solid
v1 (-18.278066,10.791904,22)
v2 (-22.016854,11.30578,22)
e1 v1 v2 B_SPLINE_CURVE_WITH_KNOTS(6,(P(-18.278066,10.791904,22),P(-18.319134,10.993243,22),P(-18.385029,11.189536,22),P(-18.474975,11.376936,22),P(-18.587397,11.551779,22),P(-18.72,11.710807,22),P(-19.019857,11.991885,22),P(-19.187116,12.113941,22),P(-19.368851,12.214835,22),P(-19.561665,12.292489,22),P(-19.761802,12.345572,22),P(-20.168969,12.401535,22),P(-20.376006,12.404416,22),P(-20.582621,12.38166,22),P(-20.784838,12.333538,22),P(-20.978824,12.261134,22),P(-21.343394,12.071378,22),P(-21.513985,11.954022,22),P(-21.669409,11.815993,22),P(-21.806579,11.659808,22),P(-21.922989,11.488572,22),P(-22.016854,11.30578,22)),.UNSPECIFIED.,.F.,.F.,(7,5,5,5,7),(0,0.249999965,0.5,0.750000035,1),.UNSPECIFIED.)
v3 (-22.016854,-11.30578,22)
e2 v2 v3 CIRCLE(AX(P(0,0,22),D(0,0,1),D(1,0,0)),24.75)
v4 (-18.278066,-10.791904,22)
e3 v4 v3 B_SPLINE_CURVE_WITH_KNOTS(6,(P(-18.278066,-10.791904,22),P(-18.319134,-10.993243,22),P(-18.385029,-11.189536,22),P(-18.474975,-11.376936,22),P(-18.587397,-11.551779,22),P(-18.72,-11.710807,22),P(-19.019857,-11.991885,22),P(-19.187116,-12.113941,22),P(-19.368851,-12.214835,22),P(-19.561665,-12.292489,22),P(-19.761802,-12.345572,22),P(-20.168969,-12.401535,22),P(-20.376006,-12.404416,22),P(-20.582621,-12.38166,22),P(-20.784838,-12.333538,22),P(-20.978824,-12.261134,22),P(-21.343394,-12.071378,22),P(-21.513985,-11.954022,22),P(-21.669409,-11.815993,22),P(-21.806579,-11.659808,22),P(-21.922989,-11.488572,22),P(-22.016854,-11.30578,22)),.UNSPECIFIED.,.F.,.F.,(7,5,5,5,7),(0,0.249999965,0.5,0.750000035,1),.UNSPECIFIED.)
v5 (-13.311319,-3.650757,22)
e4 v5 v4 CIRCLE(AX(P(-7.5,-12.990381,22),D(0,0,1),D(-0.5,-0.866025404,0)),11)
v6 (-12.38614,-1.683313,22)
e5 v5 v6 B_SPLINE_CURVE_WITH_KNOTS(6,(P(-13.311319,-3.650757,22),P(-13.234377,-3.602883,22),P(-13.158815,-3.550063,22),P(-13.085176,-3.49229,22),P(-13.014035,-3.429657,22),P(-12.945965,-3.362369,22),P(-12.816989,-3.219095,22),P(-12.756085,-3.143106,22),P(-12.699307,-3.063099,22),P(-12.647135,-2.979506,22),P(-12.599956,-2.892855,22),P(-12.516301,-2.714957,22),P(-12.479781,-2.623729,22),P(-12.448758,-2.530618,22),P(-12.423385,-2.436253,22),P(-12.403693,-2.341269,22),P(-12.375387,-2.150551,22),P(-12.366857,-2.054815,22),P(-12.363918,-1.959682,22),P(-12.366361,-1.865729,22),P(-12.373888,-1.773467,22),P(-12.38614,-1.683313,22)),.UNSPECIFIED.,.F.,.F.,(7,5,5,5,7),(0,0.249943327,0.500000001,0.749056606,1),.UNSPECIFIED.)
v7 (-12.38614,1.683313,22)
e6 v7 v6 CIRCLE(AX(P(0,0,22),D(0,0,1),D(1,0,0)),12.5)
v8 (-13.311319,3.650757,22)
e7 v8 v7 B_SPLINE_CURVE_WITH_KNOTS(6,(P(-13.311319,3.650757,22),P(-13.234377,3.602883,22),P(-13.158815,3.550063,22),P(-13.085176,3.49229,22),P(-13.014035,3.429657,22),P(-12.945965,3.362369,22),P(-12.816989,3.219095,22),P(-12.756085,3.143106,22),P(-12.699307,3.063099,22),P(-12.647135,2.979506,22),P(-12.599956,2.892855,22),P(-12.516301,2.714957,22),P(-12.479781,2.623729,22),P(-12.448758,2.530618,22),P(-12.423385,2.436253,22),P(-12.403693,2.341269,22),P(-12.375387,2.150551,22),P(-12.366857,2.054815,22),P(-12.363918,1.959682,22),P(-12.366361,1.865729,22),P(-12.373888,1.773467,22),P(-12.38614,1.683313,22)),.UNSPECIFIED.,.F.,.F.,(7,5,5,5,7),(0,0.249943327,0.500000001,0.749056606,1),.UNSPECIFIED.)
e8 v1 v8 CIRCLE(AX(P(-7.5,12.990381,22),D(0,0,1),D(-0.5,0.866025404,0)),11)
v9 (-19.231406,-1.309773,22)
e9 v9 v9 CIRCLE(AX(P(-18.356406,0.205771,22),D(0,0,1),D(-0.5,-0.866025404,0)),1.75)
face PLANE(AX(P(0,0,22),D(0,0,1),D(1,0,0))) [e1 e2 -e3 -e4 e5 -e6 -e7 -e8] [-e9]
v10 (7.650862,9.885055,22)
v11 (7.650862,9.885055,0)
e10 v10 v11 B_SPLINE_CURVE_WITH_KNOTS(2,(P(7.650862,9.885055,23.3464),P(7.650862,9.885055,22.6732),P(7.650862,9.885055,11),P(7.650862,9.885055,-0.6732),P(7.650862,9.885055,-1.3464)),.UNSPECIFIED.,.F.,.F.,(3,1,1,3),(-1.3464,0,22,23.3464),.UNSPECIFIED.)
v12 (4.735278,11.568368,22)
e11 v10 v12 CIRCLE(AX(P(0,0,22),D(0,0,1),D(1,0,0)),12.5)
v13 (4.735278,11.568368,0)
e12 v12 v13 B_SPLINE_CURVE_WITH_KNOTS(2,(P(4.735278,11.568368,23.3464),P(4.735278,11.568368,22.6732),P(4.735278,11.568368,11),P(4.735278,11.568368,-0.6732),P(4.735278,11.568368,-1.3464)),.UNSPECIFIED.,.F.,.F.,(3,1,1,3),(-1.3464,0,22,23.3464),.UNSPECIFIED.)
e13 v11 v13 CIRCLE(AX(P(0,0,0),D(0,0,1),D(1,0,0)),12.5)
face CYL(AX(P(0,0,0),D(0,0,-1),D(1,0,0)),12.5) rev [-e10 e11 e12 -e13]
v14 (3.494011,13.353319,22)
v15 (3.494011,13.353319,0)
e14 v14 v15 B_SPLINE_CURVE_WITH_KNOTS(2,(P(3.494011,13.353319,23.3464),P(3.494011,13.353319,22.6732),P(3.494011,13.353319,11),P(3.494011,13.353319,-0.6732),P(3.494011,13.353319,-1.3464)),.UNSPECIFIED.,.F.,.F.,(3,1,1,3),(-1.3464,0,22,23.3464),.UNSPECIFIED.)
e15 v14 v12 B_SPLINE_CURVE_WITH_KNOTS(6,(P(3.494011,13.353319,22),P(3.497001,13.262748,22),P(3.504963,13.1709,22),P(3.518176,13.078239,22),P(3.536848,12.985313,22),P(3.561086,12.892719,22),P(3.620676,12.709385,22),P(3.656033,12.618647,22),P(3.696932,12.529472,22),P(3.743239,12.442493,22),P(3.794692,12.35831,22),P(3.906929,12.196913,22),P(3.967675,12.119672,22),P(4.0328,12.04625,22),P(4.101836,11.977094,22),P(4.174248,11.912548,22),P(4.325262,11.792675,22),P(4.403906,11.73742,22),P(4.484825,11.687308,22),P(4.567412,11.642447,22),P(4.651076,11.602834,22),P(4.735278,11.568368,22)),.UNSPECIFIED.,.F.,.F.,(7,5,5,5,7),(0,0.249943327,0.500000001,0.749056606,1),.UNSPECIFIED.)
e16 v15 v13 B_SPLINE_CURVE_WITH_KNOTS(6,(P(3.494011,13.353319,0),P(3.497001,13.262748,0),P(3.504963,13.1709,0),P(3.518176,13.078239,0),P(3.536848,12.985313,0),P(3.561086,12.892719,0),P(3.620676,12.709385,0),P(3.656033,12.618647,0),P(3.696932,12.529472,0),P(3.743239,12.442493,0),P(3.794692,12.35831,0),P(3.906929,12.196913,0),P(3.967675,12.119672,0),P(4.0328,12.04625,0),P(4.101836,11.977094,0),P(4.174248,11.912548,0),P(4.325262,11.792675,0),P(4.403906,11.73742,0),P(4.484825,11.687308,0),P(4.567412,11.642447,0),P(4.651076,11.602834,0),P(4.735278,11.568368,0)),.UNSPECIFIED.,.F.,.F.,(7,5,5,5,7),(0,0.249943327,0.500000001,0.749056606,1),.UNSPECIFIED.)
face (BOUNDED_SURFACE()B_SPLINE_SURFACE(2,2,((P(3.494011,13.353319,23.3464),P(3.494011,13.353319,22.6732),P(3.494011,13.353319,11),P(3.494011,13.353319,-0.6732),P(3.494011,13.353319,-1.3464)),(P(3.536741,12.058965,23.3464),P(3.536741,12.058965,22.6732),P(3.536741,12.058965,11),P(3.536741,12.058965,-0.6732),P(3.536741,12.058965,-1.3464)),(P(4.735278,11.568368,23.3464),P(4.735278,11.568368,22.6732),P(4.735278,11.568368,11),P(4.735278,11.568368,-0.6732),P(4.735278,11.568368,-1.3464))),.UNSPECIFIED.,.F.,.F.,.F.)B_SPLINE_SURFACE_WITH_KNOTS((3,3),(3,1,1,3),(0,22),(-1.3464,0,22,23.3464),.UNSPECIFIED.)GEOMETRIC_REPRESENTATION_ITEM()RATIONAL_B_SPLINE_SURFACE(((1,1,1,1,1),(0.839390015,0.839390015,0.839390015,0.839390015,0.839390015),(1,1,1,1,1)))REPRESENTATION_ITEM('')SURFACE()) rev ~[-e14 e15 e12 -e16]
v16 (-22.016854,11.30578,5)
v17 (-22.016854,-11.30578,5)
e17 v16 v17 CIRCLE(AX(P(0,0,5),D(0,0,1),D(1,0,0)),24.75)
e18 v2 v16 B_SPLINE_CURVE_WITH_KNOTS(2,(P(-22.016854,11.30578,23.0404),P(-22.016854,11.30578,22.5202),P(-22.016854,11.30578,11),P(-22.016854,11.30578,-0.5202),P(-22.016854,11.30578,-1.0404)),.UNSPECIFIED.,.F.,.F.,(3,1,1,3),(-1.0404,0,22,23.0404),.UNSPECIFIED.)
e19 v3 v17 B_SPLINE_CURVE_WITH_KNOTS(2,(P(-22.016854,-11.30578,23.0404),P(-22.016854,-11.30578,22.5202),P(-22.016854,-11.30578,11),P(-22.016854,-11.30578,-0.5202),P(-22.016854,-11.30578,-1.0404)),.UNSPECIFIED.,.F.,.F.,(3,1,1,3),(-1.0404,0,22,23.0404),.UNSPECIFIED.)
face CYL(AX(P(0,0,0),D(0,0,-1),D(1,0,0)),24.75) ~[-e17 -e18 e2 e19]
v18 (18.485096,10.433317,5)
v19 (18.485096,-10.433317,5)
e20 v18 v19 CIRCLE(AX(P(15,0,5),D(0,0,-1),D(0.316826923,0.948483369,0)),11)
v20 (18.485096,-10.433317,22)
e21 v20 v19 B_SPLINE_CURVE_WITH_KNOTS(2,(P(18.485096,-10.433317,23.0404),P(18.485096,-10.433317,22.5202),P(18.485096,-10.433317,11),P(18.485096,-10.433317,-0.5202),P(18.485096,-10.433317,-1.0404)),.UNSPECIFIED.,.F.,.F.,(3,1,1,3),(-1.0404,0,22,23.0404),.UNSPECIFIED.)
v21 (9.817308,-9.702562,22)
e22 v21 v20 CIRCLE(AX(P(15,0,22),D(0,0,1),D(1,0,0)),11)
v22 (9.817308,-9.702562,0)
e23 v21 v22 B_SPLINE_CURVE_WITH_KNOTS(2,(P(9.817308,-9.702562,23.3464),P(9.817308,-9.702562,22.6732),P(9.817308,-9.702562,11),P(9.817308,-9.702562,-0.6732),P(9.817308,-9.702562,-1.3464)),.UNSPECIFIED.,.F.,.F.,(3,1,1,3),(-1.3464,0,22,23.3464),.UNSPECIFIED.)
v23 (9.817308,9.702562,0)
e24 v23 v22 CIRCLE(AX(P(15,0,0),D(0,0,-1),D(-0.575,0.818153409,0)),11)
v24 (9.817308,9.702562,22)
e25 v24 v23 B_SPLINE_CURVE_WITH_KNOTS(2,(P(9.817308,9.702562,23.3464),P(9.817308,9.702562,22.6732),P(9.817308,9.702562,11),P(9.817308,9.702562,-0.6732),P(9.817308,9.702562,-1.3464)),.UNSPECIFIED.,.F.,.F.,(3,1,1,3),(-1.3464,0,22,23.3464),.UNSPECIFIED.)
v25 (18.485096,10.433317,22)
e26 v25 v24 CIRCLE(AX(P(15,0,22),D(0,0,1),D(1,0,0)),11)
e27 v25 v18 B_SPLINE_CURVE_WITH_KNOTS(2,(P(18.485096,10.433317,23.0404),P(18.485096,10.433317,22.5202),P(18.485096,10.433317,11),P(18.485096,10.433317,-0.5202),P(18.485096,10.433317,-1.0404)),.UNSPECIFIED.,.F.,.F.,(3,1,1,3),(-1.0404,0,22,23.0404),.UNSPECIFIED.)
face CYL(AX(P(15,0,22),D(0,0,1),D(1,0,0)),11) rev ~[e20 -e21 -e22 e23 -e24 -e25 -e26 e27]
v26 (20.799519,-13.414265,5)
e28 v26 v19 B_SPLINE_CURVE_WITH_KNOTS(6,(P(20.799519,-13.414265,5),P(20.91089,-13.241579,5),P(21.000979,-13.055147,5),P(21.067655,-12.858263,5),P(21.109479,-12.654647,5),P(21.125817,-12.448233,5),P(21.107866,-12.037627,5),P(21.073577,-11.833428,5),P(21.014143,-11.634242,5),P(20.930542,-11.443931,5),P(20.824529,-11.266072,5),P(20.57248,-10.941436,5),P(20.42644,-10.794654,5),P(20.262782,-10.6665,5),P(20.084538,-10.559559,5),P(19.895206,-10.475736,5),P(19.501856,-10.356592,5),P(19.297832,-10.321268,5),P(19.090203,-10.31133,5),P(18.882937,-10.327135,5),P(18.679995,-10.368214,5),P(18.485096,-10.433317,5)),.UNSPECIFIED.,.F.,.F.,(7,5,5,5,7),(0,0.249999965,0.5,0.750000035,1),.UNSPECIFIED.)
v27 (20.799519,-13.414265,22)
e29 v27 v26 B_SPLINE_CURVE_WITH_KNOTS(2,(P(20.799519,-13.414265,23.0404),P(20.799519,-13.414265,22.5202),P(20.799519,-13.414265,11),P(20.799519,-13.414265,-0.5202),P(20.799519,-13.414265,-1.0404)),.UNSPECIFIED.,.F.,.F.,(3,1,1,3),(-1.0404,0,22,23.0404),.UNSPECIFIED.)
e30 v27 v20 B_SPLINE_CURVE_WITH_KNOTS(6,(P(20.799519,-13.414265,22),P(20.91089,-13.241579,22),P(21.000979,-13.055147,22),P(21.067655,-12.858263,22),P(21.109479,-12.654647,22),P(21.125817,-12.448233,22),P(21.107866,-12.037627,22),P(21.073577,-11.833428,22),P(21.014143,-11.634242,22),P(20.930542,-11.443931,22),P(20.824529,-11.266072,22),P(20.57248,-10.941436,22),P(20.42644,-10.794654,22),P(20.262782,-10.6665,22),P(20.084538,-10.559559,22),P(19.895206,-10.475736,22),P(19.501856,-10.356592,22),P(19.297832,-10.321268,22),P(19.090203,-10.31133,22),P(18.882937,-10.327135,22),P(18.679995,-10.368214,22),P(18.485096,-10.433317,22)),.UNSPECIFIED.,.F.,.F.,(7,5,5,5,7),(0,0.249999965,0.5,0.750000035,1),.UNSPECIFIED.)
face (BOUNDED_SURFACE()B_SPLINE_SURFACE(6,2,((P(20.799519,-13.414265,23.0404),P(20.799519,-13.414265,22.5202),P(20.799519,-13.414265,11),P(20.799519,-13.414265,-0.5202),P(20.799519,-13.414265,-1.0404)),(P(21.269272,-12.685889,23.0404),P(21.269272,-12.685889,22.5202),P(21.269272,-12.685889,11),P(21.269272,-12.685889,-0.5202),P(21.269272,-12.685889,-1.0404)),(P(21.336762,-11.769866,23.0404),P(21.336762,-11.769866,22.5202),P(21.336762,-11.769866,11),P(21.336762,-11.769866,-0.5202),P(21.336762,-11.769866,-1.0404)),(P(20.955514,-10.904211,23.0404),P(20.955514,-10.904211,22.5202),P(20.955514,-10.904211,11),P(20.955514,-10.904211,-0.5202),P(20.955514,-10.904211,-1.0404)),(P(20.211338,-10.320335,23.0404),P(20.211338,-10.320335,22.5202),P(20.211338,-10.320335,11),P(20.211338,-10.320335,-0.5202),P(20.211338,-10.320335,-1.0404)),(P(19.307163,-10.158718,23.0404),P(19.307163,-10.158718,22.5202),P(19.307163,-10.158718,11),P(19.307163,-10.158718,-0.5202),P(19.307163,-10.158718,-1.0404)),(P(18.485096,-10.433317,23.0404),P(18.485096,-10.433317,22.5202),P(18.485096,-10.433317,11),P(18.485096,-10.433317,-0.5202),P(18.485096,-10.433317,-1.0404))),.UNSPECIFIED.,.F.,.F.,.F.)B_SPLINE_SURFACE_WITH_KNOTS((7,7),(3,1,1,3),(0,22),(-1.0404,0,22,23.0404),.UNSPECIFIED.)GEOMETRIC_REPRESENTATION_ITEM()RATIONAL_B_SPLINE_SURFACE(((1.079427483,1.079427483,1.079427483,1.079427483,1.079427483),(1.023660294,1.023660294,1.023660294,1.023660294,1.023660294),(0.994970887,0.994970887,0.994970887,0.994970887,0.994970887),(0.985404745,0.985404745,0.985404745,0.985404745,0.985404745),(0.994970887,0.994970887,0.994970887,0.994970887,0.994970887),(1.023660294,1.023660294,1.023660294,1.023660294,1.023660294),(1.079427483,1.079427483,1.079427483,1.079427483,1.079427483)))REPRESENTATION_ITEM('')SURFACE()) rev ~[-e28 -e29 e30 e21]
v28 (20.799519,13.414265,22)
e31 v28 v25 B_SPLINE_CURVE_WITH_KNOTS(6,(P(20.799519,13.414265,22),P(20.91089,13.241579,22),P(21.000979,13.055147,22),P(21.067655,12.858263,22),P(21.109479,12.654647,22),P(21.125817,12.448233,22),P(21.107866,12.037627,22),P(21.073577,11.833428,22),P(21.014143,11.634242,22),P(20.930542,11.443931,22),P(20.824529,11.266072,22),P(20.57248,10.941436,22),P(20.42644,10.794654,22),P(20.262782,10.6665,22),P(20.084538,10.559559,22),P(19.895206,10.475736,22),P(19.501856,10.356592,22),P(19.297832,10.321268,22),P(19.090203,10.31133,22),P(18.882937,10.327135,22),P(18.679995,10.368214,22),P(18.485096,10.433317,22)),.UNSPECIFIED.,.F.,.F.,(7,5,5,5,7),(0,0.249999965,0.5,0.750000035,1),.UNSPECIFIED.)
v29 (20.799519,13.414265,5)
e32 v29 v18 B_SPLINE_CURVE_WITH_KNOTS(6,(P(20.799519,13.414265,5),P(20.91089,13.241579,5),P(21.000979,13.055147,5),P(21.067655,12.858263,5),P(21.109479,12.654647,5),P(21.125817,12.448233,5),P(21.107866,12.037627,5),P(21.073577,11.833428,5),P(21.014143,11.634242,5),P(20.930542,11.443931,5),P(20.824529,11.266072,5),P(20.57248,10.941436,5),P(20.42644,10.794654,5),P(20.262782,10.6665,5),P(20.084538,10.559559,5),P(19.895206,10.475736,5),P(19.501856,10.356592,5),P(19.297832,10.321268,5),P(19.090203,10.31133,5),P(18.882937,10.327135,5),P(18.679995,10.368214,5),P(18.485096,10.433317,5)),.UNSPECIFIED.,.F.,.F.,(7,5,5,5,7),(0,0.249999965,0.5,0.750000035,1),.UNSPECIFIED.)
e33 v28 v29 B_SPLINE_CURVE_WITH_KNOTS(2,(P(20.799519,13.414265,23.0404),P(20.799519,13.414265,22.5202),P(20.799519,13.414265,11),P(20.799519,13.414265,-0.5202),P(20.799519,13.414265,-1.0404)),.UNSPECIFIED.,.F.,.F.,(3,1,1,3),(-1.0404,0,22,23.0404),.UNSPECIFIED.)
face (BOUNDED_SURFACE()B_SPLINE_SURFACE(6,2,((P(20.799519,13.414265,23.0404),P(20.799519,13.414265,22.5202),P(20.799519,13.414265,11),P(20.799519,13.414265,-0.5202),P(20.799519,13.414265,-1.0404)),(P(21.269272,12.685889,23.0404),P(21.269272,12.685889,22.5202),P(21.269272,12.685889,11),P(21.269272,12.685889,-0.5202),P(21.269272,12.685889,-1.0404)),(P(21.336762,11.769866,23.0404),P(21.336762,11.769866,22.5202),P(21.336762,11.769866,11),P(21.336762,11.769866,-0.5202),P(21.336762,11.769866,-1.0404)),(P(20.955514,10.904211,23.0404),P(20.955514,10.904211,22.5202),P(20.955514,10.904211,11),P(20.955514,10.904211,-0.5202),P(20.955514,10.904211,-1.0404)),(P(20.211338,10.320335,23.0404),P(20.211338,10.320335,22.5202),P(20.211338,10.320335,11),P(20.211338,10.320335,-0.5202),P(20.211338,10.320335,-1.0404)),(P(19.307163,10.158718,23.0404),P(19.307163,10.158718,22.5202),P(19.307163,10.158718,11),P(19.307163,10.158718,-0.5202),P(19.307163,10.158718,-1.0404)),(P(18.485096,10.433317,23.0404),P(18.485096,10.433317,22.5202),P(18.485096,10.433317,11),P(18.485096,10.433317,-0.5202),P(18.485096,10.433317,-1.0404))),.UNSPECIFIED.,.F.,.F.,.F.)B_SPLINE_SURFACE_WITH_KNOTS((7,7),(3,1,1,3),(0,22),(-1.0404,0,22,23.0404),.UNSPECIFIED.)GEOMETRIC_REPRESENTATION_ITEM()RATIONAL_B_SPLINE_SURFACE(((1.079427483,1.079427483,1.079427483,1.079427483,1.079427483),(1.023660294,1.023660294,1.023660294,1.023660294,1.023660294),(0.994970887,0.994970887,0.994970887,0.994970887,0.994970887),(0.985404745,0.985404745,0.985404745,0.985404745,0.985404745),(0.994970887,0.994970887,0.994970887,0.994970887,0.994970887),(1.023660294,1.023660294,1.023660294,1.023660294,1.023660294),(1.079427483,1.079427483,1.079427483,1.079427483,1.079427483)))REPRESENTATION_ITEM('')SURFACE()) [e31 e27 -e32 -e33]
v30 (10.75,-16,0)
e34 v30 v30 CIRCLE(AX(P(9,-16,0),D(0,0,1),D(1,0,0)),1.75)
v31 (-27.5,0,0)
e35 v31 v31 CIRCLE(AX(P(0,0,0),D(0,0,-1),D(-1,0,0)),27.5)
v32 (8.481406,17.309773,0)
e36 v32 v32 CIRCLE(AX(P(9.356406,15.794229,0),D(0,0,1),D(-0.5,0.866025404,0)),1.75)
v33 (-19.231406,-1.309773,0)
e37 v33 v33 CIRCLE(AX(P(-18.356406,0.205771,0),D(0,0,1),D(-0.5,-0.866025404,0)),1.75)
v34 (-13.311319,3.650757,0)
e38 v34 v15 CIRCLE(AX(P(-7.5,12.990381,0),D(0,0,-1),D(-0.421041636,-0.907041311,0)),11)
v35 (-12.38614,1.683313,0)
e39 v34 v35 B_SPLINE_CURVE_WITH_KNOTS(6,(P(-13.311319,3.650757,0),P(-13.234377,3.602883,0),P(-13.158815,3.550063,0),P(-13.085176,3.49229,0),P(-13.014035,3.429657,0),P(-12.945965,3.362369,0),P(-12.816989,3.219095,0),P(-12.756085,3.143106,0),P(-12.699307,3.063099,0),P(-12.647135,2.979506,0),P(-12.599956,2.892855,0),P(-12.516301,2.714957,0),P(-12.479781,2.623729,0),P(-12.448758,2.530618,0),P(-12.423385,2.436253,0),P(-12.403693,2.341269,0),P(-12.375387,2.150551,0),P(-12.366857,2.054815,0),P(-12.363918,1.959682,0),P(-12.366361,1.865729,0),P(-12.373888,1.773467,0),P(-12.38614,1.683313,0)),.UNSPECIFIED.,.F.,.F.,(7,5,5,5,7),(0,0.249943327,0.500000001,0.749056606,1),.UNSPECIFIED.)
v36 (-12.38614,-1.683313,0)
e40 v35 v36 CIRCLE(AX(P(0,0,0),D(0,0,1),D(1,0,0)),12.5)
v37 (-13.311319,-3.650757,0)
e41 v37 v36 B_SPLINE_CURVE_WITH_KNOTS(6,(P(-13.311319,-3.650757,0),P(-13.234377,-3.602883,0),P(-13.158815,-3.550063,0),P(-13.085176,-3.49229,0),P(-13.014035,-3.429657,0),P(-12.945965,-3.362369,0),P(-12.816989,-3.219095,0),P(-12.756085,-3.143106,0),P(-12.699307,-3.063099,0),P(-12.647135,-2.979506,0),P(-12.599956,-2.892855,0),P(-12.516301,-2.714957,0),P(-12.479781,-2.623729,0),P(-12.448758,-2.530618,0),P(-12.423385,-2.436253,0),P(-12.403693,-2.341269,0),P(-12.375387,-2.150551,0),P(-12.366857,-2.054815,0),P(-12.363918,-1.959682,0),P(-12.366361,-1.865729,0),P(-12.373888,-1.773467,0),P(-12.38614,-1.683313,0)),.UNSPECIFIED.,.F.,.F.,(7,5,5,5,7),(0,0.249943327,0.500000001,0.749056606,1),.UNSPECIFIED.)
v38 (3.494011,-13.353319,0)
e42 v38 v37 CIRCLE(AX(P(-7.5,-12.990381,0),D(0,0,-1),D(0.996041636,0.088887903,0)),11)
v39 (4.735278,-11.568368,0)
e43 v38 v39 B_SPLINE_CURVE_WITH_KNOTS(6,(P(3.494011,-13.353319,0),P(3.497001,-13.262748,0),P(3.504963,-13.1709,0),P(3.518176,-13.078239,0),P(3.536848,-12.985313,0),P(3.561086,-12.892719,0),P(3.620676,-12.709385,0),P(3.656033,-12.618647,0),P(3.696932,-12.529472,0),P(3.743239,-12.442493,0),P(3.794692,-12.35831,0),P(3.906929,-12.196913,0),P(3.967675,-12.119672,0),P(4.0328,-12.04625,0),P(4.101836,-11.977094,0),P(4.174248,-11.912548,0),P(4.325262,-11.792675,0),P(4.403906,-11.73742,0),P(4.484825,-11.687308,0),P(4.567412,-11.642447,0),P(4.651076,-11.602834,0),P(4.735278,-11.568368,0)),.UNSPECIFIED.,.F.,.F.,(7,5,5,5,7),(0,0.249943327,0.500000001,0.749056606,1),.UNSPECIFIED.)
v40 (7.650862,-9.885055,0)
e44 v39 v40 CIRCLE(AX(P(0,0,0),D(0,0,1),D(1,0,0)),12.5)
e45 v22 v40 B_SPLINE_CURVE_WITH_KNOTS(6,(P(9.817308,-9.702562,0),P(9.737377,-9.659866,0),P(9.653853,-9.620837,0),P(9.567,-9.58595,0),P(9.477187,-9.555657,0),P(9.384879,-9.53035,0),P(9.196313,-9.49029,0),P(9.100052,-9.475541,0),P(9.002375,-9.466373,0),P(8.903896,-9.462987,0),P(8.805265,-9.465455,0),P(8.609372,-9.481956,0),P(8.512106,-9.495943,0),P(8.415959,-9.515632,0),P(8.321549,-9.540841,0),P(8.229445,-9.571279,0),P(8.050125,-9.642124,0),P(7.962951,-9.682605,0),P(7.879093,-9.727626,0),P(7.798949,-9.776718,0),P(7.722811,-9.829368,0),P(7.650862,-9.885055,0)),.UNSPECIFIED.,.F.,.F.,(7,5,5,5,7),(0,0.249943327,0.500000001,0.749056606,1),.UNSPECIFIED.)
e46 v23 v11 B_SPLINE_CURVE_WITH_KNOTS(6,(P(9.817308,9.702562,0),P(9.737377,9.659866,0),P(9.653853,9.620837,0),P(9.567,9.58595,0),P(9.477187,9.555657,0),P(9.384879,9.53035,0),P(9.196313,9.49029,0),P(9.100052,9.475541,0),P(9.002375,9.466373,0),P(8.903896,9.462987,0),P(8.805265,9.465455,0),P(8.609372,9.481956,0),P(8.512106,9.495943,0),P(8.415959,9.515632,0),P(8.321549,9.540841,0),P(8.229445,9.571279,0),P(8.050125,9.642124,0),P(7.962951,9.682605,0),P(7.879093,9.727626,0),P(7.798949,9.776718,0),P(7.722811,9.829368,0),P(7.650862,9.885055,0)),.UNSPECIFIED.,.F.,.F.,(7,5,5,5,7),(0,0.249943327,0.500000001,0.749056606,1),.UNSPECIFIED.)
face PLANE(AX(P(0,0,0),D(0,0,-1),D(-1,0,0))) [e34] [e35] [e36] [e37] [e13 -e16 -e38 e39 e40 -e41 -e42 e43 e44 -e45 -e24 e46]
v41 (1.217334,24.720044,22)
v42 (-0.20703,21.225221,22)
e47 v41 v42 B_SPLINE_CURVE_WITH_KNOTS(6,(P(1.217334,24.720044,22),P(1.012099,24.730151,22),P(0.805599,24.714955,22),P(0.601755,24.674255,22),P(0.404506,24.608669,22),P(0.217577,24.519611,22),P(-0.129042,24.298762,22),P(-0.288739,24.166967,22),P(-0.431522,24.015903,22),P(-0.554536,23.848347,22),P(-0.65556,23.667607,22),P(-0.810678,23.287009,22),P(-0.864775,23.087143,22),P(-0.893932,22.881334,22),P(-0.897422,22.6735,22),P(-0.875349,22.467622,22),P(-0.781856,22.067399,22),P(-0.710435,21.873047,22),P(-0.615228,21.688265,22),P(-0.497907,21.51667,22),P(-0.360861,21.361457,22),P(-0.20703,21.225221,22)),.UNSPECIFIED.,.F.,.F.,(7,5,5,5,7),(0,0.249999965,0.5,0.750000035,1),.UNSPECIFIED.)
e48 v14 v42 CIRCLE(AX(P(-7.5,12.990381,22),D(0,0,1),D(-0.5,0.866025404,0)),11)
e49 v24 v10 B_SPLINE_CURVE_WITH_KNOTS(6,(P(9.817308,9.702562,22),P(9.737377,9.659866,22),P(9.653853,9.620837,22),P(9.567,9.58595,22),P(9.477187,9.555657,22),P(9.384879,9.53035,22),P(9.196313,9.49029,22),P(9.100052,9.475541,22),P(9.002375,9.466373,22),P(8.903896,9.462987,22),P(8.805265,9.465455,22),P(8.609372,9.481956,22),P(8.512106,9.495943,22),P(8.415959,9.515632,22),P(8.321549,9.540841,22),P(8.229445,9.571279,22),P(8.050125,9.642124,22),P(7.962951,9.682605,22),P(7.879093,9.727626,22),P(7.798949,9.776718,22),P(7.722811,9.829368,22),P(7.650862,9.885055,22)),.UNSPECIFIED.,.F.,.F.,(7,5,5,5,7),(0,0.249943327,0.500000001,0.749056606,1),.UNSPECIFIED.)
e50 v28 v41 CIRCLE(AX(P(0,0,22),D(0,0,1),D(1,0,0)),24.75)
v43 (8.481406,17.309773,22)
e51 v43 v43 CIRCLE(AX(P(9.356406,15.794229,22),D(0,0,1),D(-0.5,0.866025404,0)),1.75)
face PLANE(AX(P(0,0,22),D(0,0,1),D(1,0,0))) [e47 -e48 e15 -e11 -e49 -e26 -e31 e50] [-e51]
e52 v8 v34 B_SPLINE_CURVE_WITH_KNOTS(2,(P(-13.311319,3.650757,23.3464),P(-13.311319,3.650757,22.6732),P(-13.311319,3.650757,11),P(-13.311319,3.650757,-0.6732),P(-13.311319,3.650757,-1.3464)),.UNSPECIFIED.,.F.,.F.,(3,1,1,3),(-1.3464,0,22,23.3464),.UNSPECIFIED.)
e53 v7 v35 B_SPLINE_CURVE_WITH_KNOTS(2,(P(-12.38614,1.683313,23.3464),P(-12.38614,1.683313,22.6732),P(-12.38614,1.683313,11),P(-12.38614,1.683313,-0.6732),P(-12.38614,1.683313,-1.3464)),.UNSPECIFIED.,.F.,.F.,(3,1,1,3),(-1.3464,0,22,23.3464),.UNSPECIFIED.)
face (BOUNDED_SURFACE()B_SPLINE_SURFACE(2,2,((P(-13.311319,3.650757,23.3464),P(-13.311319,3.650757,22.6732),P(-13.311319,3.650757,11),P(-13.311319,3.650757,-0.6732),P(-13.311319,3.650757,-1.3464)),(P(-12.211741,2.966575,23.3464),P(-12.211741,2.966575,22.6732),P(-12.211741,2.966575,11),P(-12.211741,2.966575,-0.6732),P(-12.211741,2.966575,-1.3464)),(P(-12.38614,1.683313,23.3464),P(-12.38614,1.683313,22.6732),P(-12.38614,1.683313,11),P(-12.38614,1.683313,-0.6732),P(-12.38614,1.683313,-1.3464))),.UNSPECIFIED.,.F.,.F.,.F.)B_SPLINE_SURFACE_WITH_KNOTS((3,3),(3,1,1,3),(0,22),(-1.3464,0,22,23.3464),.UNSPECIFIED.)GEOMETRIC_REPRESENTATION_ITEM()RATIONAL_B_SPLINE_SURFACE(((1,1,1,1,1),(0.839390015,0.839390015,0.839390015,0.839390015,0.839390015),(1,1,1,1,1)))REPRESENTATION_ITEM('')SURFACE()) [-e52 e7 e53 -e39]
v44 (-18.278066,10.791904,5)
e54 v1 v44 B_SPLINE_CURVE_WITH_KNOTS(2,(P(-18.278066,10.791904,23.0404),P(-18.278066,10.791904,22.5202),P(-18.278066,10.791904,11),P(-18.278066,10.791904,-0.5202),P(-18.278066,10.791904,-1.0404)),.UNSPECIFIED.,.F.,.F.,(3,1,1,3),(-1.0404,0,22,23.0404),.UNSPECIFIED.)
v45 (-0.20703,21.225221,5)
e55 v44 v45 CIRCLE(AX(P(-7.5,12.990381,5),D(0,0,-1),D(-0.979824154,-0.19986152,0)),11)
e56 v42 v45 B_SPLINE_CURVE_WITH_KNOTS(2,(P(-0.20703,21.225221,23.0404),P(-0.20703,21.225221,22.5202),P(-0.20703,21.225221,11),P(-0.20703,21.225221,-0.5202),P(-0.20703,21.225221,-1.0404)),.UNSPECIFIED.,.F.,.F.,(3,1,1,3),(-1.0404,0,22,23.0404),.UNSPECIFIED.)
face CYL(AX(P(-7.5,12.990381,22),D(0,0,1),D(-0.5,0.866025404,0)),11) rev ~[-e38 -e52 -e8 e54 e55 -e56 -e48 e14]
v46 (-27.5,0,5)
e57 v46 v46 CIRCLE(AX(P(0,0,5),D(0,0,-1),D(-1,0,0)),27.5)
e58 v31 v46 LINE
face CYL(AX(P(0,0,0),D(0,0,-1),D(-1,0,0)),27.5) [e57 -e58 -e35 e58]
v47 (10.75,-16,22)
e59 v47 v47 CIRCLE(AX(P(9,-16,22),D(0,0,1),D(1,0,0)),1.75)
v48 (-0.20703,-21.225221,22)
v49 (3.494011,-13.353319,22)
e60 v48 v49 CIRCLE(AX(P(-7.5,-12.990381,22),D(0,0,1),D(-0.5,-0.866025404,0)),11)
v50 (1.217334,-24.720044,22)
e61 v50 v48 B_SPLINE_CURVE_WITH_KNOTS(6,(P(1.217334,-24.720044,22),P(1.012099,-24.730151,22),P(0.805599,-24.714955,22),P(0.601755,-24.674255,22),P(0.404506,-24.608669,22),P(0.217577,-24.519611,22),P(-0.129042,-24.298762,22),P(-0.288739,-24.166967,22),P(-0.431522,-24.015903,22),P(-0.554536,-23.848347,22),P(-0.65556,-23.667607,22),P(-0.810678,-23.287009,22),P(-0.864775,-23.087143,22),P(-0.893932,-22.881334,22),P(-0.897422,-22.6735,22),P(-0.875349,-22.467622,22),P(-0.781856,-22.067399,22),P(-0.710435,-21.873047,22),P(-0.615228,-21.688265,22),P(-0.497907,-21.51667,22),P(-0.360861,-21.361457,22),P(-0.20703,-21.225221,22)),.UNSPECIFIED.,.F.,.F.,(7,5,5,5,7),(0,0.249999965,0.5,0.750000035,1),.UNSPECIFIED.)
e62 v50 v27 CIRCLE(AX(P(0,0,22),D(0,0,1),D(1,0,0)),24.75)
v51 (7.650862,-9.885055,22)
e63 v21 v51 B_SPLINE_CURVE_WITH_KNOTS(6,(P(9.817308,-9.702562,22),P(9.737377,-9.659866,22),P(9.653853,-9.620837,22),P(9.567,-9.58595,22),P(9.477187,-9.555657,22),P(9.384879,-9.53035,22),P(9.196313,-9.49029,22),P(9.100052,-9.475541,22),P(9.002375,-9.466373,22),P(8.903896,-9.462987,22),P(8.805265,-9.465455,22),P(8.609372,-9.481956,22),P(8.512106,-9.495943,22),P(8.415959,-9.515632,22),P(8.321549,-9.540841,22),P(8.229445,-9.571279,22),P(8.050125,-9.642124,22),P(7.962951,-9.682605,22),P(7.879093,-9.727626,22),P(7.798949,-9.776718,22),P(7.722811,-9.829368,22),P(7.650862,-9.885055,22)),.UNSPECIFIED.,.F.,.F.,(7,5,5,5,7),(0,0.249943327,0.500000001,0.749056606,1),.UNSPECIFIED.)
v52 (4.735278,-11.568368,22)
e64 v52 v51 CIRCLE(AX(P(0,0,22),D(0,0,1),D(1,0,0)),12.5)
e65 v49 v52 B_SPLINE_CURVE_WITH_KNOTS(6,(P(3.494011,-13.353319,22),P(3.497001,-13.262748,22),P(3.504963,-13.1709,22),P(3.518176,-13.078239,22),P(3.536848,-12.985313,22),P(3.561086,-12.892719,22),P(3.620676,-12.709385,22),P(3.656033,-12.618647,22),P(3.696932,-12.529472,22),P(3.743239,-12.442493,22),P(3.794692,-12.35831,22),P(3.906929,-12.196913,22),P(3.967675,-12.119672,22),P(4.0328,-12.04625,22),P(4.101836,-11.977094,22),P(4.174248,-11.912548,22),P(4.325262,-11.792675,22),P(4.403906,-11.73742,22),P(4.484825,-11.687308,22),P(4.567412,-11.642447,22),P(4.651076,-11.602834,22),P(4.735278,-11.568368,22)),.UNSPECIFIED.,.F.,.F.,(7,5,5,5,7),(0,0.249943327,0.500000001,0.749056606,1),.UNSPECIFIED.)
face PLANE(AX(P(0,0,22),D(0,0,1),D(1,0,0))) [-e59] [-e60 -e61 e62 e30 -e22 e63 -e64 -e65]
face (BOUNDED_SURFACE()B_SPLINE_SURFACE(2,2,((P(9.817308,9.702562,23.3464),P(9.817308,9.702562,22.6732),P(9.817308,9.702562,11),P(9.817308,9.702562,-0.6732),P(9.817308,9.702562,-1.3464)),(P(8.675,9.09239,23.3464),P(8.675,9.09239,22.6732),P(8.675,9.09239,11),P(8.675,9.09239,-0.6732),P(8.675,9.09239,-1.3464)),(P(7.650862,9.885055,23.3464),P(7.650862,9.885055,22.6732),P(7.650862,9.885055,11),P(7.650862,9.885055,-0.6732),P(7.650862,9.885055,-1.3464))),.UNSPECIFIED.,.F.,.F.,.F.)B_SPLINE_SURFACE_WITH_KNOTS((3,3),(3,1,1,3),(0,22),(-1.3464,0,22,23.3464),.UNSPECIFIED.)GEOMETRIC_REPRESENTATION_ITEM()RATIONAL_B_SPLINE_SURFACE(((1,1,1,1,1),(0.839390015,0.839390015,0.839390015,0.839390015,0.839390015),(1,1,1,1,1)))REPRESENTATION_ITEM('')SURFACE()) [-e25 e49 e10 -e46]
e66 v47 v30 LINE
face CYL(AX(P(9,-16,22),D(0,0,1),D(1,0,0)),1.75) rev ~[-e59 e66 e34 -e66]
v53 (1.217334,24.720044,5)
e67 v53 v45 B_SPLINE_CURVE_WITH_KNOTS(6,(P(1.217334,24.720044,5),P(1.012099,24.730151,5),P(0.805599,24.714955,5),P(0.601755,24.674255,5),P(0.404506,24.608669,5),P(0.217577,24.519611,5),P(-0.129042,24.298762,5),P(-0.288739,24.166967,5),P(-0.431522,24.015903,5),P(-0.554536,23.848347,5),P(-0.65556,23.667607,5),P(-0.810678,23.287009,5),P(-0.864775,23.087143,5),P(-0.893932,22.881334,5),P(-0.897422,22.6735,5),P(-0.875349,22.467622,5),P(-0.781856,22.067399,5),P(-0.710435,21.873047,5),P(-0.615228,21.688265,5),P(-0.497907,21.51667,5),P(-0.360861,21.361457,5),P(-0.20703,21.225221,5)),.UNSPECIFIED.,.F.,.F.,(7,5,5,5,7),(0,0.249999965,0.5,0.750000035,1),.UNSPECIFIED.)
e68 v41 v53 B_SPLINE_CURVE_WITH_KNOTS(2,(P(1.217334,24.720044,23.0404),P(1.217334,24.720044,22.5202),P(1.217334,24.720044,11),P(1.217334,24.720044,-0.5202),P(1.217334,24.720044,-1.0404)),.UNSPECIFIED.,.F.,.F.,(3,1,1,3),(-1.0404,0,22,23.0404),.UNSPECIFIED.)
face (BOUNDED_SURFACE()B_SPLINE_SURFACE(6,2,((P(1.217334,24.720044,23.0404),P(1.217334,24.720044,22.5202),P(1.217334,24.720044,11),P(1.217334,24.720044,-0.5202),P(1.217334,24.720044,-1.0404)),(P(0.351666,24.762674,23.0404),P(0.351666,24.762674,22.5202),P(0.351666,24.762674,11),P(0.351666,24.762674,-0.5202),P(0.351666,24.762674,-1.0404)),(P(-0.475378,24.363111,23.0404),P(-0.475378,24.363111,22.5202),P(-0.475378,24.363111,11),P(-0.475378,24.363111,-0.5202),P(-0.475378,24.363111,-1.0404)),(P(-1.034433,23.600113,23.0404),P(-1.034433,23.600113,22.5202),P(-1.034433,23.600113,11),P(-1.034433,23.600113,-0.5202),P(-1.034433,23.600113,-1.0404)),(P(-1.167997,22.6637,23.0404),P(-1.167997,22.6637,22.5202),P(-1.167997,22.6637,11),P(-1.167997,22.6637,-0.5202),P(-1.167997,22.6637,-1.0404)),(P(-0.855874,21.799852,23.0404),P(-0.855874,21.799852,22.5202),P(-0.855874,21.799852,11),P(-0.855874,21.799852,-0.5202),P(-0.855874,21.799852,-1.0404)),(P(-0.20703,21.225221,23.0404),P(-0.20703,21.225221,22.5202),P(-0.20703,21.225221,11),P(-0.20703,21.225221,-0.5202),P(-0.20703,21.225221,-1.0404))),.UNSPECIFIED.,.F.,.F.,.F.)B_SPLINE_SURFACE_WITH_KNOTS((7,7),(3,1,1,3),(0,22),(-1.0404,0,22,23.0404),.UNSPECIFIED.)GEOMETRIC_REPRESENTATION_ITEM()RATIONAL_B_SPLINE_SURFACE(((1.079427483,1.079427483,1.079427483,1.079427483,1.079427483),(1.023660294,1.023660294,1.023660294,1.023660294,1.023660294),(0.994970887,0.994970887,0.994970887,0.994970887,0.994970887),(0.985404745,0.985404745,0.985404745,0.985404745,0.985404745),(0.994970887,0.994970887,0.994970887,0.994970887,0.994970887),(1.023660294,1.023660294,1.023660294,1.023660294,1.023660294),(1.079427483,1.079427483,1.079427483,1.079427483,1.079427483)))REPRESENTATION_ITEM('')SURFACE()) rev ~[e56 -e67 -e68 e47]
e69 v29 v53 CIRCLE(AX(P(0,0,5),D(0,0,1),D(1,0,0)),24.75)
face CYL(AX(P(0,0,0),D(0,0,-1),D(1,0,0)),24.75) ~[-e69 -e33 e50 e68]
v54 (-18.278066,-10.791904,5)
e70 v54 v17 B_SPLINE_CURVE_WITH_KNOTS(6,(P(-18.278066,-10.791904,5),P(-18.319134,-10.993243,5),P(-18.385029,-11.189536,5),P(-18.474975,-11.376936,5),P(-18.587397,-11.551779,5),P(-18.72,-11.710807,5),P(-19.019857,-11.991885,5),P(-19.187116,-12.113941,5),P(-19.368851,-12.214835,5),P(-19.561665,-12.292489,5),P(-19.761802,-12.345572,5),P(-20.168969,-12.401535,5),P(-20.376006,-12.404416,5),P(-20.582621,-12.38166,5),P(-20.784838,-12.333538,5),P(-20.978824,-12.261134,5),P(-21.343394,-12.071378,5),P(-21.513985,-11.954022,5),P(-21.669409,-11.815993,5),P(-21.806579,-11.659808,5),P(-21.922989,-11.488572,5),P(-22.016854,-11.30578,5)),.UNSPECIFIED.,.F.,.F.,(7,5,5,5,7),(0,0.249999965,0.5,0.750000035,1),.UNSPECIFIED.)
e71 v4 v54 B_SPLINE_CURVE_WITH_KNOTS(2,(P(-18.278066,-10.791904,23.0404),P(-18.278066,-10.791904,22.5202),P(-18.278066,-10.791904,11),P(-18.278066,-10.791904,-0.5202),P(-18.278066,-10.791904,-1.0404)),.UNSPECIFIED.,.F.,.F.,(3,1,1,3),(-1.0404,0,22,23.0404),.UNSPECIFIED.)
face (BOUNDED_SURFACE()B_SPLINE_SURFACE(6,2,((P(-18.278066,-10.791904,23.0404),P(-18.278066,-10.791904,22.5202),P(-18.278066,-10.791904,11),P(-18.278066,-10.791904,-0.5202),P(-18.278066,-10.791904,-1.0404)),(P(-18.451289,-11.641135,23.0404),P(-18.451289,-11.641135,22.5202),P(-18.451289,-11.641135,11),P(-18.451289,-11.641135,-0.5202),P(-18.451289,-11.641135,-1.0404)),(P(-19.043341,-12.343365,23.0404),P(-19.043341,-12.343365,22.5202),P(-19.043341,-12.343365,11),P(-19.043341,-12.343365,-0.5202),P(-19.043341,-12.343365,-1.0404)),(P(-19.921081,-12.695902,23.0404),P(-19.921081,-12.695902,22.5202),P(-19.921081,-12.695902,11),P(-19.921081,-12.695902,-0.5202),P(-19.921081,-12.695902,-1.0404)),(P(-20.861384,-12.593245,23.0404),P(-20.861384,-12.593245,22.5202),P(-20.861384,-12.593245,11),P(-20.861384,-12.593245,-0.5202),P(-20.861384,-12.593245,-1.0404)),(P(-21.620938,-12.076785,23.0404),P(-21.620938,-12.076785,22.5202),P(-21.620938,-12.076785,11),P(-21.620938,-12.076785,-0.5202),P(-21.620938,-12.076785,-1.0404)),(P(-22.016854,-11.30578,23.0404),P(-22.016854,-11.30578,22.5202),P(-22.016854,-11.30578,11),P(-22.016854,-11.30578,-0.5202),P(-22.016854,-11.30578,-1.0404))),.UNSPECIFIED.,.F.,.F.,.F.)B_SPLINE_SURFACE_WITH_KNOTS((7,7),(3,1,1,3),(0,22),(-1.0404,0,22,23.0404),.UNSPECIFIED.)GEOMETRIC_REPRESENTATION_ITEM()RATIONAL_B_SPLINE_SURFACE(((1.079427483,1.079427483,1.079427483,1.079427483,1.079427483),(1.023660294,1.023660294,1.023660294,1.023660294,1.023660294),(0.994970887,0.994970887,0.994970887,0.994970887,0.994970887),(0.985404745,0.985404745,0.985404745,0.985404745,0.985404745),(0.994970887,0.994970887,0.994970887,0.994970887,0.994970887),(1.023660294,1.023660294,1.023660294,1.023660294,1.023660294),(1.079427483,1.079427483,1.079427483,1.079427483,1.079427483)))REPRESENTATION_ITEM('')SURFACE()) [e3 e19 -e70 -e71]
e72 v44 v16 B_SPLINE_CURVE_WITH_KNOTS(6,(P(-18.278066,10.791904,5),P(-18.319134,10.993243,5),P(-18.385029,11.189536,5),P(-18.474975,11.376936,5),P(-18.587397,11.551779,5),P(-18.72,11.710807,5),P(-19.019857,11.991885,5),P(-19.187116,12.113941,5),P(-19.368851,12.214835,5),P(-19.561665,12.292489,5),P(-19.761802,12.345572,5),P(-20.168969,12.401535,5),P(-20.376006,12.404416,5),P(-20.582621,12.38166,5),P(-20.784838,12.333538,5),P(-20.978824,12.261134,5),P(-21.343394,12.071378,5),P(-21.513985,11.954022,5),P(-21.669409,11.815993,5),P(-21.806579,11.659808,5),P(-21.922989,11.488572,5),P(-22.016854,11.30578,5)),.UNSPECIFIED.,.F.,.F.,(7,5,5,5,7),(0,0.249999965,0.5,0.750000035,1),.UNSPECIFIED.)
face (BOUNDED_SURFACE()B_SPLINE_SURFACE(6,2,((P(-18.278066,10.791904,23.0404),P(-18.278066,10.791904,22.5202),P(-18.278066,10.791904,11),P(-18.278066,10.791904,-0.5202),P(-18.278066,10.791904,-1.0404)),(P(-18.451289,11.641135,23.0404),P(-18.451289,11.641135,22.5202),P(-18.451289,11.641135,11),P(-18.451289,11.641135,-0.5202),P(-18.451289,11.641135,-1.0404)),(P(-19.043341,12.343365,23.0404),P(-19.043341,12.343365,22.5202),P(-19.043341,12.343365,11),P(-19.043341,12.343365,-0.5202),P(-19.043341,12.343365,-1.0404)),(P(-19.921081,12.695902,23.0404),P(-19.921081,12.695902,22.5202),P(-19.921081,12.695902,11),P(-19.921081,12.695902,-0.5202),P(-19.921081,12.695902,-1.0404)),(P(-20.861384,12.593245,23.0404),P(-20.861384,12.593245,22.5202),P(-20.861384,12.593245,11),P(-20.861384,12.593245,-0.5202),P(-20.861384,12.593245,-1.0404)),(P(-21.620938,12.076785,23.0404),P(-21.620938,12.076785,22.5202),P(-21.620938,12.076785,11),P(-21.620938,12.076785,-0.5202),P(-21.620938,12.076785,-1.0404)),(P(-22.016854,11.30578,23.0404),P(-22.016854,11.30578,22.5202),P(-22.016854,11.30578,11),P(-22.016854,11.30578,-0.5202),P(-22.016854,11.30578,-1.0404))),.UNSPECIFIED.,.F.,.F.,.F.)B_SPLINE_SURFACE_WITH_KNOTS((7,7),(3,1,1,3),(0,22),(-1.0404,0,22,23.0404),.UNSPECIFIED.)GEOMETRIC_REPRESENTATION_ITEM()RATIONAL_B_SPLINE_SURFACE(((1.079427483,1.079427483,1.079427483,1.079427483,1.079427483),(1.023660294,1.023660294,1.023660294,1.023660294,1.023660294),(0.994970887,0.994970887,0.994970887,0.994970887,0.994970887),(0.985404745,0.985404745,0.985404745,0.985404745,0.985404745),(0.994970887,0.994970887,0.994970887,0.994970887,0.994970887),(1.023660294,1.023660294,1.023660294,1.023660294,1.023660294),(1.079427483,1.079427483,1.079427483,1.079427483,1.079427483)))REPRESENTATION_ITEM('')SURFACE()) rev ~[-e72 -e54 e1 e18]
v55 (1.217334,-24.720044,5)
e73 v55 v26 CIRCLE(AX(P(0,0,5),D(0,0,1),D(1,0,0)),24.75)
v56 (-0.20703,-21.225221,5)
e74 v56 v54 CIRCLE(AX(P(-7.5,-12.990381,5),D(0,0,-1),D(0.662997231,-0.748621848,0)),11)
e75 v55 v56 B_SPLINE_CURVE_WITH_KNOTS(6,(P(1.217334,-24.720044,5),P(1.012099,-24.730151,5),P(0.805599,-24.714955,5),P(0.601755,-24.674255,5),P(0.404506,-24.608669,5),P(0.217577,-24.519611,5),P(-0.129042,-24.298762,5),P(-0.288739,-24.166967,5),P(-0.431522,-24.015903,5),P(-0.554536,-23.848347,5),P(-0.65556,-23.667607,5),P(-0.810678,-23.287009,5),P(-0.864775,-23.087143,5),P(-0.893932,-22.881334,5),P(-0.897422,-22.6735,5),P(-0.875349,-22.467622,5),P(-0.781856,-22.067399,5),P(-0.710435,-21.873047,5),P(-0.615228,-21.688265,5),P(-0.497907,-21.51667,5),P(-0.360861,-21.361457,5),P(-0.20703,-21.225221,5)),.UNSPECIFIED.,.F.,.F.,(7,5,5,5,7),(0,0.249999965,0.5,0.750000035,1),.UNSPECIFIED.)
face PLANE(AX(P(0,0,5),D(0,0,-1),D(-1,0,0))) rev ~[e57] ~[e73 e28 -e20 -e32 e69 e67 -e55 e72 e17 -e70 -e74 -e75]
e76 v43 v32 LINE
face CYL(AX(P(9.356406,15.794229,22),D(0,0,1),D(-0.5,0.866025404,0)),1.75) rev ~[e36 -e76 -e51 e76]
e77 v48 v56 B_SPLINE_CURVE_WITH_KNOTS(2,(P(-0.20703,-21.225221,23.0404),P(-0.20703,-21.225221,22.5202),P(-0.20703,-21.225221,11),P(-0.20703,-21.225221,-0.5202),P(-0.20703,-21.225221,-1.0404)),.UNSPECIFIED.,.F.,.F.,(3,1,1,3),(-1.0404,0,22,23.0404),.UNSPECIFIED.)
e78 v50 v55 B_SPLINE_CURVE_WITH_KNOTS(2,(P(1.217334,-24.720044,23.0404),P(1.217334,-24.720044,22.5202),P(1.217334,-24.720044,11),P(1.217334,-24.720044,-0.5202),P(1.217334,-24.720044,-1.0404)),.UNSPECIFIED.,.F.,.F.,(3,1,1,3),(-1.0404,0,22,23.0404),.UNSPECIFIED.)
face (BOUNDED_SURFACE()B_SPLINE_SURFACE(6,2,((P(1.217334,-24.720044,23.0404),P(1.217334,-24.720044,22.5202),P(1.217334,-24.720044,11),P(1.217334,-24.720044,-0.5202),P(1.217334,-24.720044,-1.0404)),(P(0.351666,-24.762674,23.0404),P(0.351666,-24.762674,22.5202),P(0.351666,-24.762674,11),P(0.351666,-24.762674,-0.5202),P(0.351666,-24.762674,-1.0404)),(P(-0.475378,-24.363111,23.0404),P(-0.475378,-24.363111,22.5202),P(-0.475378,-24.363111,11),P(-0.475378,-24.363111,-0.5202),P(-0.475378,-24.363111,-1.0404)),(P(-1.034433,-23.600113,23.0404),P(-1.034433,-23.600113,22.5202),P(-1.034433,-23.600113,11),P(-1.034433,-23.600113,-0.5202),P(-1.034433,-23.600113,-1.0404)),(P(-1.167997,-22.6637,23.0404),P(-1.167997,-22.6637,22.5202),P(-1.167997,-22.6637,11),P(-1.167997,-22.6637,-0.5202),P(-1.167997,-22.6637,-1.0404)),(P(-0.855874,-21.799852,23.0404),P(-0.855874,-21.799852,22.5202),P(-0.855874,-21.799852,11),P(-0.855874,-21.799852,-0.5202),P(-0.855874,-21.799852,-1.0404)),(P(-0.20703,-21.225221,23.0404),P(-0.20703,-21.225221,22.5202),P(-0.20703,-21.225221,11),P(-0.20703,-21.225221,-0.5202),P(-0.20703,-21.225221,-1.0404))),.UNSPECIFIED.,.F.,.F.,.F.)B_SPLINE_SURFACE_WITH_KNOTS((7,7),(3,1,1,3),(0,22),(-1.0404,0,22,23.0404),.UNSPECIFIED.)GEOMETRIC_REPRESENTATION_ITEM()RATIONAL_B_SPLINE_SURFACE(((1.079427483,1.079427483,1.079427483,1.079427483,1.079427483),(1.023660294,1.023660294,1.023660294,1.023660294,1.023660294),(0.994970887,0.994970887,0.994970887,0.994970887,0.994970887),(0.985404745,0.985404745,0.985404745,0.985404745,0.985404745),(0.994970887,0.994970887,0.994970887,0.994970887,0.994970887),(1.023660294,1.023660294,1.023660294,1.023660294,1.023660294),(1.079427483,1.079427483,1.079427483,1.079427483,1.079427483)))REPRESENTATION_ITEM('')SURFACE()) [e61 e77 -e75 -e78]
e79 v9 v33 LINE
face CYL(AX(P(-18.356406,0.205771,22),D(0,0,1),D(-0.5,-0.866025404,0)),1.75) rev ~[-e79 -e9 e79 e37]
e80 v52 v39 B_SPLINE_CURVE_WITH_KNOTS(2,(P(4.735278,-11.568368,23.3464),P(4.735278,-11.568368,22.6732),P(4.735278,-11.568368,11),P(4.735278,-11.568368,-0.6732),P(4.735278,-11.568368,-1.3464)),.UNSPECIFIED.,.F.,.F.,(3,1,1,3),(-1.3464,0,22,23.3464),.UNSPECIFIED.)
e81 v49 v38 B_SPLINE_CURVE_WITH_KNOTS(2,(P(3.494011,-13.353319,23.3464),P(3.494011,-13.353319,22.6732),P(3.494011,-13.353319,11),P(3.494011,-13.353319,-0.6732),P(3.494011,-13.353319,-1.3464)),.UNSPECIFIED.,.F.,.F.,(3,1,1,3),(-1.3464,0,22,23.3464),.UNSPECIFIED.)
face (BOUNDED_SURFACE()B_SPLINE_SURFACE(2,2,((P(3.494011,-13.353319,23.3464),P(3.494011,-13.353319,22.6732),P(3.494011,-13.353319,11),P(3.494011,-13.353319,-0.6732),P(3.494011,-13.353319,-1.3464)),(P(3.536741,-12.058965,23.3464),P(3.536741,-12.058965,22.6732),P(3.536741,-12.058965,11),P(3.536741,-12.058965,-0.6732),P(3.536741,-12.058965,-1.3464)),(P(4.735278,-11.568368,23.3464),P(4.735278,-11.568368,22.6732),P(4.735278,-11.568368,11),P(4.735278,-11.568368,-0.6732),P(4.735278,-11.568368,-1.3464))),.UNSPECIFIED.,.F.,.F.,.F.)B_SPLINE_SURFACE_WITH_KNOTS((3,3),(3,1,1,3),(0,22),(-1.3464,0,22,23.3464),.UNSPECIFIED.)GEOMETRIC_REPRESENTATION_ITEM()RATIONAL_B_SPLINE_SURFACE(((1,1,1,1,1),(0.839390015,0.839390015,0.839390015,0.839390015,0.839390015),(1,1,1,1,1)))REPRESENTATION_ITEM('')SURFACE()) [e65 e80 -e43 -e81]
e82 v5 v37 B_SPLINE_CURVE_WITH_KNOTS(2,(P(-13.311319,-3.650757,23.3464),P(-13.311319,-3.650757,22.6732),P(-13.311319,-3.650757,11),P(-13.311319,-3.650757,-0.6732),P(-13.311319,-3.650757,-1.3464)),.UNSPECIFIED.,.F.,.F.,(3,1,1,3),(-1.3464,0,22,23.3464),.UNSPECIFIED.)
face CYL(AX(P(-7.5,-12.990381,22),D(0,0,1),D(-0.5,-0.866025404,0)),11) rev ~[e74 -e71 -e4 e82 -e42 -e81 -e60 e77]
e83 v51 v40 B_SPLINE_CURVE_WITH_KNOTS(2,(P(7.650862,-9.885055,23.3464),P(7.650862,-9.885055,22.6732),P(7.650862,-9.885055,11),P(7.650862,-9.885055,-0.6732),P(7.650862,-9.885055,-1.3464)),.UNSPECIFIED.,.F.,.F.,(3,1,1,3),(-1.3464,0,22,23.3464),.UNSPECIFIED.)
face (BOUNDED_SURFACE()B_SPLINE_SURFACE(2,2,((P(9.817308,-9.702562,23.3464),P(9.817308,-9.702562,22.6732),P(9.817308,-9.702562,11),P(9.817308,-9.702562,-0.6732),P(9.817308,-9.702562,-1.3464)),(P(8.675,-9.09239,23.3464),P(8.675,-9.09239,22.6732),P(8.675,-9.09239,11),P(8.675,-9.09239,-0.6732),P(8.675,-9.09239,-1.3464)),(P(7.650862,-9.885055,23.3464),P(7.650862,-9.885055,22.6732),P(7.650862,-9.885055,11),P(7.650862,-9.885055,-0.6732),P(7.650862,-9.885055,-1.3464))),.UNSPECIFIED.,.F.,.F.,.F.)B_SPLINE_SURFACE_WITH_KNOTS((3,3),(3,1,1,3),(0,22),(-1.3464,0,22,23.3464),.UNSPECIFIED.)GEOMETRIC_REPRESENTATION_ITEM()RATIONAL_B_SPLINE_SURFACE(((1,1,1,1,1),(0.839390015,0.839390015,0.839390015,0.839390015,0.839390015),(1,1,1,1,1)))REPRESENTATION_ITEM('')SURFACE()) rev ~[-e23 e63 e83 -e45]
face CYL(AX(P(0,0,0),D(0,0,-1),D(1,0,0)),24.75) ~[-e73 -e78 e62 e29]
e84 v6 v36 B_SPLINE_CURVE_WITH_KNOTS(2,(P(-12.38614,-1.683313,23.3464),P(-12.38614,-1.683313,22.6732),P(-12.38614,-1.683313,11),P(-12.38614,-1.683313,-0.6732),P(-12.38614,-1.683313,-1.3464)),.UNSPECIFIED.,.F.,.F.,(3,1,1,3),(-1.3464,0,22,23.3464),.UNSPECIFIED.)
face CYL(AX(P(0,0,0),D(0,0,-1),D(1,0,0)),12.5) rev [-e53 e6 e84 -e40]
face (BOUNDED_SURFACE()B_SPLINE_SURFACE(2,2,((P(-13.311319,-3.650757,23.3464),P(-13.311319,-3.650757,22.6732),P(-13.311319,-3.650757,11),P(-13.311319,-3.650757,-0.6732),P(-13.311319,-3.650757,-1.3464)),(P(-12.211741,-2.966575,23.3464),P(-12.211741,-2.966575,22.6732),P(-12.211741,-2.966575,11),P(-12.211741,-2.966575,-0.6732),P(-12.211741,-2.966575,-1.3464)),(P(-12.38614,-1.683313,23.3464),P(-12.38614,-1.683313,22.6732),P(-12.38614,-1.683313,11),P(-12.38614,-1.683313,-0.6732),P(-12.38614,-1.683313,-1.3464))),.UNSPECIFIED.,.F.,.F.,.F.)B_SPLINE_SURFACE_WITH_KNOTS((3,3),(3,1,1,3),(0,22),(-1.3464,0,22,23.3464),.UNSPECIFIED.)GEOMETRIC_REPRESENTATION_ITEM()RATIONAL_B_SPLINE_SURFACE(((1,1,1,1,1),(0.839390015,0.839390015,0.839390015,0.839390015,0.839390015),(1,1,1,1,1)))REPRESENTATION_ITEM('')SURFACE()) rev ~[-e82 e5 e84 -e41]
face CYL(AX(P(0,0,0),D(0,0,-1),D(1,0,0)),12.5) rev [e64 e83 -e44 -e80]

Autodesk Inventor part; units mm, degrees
ref_plane "YZ Plane" through (0, 0, 0) normal (1, 0, 0) x (0, 1, 0)
ref_plane "XZ Plane" through (0, 0, 0) normal (0, 1, 0) x (-1, 0, 0)
ref_plane "XY Plane" through (0, 0, 0) normal (0, 0, 1) x (1, 0, 0)
sketch "Sketch1" plane through (0, 0, 0) normal (0, 0, 1) x (1, 0, 0)
  circle A0 centre (0, 0) radius 24.75
  circle A1 centre (0, 0) radius 12.5
  dimension "d0" = 49.5
  dimension "d1" = 25
extrude "Extrusion1" add sketch "Sketch1" along normal blind 22
sketch "Sketch3" plane through (0, 0, 0) normal (0, 0, -1) x (-1, 0, 0)
  circle A0 centre (0, 0) radius 24.75
  circle A1 centre (0, 0) radius 27.5
  dimension "d13" = 49.5
  dimension "d14" = 55
extrude "Extrusion3" add sketch "Sketch3" against normal blind 5
sketch "Sketch2" plane through (0, 0, 22) normal (0, 0, 1) x (1, 0, 0)
  circle A0 centre (15, 0) radius 11
  point P0 (0, 0)
  dimension "d4" = 15
  dimension "d5" = 0
  dimension "d6" = 22
extrude "Extrusion2" cut sketch "Sketch2" against normal blind 22
fillet "Fillet1" radius 2 4 edges at (8.675, 8.9997, 11) (8.675, -8.9997, 11) (23.8854, -6.4845, 13.5) (23.8854, 6.4845, 13.5)
pattern_circular "Circular Pattern1" count 3 over 360 about axis through (0, 0, 0) along (0, 0, 1) of "Extrusion2", "Fillet1"
sketch "Sketch4" plane through (0, 0, 22) normal (0, 0, 1) x (1, 0, 0)
  circle A0 centre (9, -16) radius 1.75
  point P0 (0, 0)
  dimension "d17" = 3.5
  dimension "d18" = 16
  dimension "d19" = 9
extrude "Extrusion4" cut sketch "Sketch4" against normal through all
pattern_circular "Circular Pattern2" count 3 over 360 about axis through (0, 0, 0) along (0, 0, 1) of "Extrusion4"
properties part number "LayerBase2"
